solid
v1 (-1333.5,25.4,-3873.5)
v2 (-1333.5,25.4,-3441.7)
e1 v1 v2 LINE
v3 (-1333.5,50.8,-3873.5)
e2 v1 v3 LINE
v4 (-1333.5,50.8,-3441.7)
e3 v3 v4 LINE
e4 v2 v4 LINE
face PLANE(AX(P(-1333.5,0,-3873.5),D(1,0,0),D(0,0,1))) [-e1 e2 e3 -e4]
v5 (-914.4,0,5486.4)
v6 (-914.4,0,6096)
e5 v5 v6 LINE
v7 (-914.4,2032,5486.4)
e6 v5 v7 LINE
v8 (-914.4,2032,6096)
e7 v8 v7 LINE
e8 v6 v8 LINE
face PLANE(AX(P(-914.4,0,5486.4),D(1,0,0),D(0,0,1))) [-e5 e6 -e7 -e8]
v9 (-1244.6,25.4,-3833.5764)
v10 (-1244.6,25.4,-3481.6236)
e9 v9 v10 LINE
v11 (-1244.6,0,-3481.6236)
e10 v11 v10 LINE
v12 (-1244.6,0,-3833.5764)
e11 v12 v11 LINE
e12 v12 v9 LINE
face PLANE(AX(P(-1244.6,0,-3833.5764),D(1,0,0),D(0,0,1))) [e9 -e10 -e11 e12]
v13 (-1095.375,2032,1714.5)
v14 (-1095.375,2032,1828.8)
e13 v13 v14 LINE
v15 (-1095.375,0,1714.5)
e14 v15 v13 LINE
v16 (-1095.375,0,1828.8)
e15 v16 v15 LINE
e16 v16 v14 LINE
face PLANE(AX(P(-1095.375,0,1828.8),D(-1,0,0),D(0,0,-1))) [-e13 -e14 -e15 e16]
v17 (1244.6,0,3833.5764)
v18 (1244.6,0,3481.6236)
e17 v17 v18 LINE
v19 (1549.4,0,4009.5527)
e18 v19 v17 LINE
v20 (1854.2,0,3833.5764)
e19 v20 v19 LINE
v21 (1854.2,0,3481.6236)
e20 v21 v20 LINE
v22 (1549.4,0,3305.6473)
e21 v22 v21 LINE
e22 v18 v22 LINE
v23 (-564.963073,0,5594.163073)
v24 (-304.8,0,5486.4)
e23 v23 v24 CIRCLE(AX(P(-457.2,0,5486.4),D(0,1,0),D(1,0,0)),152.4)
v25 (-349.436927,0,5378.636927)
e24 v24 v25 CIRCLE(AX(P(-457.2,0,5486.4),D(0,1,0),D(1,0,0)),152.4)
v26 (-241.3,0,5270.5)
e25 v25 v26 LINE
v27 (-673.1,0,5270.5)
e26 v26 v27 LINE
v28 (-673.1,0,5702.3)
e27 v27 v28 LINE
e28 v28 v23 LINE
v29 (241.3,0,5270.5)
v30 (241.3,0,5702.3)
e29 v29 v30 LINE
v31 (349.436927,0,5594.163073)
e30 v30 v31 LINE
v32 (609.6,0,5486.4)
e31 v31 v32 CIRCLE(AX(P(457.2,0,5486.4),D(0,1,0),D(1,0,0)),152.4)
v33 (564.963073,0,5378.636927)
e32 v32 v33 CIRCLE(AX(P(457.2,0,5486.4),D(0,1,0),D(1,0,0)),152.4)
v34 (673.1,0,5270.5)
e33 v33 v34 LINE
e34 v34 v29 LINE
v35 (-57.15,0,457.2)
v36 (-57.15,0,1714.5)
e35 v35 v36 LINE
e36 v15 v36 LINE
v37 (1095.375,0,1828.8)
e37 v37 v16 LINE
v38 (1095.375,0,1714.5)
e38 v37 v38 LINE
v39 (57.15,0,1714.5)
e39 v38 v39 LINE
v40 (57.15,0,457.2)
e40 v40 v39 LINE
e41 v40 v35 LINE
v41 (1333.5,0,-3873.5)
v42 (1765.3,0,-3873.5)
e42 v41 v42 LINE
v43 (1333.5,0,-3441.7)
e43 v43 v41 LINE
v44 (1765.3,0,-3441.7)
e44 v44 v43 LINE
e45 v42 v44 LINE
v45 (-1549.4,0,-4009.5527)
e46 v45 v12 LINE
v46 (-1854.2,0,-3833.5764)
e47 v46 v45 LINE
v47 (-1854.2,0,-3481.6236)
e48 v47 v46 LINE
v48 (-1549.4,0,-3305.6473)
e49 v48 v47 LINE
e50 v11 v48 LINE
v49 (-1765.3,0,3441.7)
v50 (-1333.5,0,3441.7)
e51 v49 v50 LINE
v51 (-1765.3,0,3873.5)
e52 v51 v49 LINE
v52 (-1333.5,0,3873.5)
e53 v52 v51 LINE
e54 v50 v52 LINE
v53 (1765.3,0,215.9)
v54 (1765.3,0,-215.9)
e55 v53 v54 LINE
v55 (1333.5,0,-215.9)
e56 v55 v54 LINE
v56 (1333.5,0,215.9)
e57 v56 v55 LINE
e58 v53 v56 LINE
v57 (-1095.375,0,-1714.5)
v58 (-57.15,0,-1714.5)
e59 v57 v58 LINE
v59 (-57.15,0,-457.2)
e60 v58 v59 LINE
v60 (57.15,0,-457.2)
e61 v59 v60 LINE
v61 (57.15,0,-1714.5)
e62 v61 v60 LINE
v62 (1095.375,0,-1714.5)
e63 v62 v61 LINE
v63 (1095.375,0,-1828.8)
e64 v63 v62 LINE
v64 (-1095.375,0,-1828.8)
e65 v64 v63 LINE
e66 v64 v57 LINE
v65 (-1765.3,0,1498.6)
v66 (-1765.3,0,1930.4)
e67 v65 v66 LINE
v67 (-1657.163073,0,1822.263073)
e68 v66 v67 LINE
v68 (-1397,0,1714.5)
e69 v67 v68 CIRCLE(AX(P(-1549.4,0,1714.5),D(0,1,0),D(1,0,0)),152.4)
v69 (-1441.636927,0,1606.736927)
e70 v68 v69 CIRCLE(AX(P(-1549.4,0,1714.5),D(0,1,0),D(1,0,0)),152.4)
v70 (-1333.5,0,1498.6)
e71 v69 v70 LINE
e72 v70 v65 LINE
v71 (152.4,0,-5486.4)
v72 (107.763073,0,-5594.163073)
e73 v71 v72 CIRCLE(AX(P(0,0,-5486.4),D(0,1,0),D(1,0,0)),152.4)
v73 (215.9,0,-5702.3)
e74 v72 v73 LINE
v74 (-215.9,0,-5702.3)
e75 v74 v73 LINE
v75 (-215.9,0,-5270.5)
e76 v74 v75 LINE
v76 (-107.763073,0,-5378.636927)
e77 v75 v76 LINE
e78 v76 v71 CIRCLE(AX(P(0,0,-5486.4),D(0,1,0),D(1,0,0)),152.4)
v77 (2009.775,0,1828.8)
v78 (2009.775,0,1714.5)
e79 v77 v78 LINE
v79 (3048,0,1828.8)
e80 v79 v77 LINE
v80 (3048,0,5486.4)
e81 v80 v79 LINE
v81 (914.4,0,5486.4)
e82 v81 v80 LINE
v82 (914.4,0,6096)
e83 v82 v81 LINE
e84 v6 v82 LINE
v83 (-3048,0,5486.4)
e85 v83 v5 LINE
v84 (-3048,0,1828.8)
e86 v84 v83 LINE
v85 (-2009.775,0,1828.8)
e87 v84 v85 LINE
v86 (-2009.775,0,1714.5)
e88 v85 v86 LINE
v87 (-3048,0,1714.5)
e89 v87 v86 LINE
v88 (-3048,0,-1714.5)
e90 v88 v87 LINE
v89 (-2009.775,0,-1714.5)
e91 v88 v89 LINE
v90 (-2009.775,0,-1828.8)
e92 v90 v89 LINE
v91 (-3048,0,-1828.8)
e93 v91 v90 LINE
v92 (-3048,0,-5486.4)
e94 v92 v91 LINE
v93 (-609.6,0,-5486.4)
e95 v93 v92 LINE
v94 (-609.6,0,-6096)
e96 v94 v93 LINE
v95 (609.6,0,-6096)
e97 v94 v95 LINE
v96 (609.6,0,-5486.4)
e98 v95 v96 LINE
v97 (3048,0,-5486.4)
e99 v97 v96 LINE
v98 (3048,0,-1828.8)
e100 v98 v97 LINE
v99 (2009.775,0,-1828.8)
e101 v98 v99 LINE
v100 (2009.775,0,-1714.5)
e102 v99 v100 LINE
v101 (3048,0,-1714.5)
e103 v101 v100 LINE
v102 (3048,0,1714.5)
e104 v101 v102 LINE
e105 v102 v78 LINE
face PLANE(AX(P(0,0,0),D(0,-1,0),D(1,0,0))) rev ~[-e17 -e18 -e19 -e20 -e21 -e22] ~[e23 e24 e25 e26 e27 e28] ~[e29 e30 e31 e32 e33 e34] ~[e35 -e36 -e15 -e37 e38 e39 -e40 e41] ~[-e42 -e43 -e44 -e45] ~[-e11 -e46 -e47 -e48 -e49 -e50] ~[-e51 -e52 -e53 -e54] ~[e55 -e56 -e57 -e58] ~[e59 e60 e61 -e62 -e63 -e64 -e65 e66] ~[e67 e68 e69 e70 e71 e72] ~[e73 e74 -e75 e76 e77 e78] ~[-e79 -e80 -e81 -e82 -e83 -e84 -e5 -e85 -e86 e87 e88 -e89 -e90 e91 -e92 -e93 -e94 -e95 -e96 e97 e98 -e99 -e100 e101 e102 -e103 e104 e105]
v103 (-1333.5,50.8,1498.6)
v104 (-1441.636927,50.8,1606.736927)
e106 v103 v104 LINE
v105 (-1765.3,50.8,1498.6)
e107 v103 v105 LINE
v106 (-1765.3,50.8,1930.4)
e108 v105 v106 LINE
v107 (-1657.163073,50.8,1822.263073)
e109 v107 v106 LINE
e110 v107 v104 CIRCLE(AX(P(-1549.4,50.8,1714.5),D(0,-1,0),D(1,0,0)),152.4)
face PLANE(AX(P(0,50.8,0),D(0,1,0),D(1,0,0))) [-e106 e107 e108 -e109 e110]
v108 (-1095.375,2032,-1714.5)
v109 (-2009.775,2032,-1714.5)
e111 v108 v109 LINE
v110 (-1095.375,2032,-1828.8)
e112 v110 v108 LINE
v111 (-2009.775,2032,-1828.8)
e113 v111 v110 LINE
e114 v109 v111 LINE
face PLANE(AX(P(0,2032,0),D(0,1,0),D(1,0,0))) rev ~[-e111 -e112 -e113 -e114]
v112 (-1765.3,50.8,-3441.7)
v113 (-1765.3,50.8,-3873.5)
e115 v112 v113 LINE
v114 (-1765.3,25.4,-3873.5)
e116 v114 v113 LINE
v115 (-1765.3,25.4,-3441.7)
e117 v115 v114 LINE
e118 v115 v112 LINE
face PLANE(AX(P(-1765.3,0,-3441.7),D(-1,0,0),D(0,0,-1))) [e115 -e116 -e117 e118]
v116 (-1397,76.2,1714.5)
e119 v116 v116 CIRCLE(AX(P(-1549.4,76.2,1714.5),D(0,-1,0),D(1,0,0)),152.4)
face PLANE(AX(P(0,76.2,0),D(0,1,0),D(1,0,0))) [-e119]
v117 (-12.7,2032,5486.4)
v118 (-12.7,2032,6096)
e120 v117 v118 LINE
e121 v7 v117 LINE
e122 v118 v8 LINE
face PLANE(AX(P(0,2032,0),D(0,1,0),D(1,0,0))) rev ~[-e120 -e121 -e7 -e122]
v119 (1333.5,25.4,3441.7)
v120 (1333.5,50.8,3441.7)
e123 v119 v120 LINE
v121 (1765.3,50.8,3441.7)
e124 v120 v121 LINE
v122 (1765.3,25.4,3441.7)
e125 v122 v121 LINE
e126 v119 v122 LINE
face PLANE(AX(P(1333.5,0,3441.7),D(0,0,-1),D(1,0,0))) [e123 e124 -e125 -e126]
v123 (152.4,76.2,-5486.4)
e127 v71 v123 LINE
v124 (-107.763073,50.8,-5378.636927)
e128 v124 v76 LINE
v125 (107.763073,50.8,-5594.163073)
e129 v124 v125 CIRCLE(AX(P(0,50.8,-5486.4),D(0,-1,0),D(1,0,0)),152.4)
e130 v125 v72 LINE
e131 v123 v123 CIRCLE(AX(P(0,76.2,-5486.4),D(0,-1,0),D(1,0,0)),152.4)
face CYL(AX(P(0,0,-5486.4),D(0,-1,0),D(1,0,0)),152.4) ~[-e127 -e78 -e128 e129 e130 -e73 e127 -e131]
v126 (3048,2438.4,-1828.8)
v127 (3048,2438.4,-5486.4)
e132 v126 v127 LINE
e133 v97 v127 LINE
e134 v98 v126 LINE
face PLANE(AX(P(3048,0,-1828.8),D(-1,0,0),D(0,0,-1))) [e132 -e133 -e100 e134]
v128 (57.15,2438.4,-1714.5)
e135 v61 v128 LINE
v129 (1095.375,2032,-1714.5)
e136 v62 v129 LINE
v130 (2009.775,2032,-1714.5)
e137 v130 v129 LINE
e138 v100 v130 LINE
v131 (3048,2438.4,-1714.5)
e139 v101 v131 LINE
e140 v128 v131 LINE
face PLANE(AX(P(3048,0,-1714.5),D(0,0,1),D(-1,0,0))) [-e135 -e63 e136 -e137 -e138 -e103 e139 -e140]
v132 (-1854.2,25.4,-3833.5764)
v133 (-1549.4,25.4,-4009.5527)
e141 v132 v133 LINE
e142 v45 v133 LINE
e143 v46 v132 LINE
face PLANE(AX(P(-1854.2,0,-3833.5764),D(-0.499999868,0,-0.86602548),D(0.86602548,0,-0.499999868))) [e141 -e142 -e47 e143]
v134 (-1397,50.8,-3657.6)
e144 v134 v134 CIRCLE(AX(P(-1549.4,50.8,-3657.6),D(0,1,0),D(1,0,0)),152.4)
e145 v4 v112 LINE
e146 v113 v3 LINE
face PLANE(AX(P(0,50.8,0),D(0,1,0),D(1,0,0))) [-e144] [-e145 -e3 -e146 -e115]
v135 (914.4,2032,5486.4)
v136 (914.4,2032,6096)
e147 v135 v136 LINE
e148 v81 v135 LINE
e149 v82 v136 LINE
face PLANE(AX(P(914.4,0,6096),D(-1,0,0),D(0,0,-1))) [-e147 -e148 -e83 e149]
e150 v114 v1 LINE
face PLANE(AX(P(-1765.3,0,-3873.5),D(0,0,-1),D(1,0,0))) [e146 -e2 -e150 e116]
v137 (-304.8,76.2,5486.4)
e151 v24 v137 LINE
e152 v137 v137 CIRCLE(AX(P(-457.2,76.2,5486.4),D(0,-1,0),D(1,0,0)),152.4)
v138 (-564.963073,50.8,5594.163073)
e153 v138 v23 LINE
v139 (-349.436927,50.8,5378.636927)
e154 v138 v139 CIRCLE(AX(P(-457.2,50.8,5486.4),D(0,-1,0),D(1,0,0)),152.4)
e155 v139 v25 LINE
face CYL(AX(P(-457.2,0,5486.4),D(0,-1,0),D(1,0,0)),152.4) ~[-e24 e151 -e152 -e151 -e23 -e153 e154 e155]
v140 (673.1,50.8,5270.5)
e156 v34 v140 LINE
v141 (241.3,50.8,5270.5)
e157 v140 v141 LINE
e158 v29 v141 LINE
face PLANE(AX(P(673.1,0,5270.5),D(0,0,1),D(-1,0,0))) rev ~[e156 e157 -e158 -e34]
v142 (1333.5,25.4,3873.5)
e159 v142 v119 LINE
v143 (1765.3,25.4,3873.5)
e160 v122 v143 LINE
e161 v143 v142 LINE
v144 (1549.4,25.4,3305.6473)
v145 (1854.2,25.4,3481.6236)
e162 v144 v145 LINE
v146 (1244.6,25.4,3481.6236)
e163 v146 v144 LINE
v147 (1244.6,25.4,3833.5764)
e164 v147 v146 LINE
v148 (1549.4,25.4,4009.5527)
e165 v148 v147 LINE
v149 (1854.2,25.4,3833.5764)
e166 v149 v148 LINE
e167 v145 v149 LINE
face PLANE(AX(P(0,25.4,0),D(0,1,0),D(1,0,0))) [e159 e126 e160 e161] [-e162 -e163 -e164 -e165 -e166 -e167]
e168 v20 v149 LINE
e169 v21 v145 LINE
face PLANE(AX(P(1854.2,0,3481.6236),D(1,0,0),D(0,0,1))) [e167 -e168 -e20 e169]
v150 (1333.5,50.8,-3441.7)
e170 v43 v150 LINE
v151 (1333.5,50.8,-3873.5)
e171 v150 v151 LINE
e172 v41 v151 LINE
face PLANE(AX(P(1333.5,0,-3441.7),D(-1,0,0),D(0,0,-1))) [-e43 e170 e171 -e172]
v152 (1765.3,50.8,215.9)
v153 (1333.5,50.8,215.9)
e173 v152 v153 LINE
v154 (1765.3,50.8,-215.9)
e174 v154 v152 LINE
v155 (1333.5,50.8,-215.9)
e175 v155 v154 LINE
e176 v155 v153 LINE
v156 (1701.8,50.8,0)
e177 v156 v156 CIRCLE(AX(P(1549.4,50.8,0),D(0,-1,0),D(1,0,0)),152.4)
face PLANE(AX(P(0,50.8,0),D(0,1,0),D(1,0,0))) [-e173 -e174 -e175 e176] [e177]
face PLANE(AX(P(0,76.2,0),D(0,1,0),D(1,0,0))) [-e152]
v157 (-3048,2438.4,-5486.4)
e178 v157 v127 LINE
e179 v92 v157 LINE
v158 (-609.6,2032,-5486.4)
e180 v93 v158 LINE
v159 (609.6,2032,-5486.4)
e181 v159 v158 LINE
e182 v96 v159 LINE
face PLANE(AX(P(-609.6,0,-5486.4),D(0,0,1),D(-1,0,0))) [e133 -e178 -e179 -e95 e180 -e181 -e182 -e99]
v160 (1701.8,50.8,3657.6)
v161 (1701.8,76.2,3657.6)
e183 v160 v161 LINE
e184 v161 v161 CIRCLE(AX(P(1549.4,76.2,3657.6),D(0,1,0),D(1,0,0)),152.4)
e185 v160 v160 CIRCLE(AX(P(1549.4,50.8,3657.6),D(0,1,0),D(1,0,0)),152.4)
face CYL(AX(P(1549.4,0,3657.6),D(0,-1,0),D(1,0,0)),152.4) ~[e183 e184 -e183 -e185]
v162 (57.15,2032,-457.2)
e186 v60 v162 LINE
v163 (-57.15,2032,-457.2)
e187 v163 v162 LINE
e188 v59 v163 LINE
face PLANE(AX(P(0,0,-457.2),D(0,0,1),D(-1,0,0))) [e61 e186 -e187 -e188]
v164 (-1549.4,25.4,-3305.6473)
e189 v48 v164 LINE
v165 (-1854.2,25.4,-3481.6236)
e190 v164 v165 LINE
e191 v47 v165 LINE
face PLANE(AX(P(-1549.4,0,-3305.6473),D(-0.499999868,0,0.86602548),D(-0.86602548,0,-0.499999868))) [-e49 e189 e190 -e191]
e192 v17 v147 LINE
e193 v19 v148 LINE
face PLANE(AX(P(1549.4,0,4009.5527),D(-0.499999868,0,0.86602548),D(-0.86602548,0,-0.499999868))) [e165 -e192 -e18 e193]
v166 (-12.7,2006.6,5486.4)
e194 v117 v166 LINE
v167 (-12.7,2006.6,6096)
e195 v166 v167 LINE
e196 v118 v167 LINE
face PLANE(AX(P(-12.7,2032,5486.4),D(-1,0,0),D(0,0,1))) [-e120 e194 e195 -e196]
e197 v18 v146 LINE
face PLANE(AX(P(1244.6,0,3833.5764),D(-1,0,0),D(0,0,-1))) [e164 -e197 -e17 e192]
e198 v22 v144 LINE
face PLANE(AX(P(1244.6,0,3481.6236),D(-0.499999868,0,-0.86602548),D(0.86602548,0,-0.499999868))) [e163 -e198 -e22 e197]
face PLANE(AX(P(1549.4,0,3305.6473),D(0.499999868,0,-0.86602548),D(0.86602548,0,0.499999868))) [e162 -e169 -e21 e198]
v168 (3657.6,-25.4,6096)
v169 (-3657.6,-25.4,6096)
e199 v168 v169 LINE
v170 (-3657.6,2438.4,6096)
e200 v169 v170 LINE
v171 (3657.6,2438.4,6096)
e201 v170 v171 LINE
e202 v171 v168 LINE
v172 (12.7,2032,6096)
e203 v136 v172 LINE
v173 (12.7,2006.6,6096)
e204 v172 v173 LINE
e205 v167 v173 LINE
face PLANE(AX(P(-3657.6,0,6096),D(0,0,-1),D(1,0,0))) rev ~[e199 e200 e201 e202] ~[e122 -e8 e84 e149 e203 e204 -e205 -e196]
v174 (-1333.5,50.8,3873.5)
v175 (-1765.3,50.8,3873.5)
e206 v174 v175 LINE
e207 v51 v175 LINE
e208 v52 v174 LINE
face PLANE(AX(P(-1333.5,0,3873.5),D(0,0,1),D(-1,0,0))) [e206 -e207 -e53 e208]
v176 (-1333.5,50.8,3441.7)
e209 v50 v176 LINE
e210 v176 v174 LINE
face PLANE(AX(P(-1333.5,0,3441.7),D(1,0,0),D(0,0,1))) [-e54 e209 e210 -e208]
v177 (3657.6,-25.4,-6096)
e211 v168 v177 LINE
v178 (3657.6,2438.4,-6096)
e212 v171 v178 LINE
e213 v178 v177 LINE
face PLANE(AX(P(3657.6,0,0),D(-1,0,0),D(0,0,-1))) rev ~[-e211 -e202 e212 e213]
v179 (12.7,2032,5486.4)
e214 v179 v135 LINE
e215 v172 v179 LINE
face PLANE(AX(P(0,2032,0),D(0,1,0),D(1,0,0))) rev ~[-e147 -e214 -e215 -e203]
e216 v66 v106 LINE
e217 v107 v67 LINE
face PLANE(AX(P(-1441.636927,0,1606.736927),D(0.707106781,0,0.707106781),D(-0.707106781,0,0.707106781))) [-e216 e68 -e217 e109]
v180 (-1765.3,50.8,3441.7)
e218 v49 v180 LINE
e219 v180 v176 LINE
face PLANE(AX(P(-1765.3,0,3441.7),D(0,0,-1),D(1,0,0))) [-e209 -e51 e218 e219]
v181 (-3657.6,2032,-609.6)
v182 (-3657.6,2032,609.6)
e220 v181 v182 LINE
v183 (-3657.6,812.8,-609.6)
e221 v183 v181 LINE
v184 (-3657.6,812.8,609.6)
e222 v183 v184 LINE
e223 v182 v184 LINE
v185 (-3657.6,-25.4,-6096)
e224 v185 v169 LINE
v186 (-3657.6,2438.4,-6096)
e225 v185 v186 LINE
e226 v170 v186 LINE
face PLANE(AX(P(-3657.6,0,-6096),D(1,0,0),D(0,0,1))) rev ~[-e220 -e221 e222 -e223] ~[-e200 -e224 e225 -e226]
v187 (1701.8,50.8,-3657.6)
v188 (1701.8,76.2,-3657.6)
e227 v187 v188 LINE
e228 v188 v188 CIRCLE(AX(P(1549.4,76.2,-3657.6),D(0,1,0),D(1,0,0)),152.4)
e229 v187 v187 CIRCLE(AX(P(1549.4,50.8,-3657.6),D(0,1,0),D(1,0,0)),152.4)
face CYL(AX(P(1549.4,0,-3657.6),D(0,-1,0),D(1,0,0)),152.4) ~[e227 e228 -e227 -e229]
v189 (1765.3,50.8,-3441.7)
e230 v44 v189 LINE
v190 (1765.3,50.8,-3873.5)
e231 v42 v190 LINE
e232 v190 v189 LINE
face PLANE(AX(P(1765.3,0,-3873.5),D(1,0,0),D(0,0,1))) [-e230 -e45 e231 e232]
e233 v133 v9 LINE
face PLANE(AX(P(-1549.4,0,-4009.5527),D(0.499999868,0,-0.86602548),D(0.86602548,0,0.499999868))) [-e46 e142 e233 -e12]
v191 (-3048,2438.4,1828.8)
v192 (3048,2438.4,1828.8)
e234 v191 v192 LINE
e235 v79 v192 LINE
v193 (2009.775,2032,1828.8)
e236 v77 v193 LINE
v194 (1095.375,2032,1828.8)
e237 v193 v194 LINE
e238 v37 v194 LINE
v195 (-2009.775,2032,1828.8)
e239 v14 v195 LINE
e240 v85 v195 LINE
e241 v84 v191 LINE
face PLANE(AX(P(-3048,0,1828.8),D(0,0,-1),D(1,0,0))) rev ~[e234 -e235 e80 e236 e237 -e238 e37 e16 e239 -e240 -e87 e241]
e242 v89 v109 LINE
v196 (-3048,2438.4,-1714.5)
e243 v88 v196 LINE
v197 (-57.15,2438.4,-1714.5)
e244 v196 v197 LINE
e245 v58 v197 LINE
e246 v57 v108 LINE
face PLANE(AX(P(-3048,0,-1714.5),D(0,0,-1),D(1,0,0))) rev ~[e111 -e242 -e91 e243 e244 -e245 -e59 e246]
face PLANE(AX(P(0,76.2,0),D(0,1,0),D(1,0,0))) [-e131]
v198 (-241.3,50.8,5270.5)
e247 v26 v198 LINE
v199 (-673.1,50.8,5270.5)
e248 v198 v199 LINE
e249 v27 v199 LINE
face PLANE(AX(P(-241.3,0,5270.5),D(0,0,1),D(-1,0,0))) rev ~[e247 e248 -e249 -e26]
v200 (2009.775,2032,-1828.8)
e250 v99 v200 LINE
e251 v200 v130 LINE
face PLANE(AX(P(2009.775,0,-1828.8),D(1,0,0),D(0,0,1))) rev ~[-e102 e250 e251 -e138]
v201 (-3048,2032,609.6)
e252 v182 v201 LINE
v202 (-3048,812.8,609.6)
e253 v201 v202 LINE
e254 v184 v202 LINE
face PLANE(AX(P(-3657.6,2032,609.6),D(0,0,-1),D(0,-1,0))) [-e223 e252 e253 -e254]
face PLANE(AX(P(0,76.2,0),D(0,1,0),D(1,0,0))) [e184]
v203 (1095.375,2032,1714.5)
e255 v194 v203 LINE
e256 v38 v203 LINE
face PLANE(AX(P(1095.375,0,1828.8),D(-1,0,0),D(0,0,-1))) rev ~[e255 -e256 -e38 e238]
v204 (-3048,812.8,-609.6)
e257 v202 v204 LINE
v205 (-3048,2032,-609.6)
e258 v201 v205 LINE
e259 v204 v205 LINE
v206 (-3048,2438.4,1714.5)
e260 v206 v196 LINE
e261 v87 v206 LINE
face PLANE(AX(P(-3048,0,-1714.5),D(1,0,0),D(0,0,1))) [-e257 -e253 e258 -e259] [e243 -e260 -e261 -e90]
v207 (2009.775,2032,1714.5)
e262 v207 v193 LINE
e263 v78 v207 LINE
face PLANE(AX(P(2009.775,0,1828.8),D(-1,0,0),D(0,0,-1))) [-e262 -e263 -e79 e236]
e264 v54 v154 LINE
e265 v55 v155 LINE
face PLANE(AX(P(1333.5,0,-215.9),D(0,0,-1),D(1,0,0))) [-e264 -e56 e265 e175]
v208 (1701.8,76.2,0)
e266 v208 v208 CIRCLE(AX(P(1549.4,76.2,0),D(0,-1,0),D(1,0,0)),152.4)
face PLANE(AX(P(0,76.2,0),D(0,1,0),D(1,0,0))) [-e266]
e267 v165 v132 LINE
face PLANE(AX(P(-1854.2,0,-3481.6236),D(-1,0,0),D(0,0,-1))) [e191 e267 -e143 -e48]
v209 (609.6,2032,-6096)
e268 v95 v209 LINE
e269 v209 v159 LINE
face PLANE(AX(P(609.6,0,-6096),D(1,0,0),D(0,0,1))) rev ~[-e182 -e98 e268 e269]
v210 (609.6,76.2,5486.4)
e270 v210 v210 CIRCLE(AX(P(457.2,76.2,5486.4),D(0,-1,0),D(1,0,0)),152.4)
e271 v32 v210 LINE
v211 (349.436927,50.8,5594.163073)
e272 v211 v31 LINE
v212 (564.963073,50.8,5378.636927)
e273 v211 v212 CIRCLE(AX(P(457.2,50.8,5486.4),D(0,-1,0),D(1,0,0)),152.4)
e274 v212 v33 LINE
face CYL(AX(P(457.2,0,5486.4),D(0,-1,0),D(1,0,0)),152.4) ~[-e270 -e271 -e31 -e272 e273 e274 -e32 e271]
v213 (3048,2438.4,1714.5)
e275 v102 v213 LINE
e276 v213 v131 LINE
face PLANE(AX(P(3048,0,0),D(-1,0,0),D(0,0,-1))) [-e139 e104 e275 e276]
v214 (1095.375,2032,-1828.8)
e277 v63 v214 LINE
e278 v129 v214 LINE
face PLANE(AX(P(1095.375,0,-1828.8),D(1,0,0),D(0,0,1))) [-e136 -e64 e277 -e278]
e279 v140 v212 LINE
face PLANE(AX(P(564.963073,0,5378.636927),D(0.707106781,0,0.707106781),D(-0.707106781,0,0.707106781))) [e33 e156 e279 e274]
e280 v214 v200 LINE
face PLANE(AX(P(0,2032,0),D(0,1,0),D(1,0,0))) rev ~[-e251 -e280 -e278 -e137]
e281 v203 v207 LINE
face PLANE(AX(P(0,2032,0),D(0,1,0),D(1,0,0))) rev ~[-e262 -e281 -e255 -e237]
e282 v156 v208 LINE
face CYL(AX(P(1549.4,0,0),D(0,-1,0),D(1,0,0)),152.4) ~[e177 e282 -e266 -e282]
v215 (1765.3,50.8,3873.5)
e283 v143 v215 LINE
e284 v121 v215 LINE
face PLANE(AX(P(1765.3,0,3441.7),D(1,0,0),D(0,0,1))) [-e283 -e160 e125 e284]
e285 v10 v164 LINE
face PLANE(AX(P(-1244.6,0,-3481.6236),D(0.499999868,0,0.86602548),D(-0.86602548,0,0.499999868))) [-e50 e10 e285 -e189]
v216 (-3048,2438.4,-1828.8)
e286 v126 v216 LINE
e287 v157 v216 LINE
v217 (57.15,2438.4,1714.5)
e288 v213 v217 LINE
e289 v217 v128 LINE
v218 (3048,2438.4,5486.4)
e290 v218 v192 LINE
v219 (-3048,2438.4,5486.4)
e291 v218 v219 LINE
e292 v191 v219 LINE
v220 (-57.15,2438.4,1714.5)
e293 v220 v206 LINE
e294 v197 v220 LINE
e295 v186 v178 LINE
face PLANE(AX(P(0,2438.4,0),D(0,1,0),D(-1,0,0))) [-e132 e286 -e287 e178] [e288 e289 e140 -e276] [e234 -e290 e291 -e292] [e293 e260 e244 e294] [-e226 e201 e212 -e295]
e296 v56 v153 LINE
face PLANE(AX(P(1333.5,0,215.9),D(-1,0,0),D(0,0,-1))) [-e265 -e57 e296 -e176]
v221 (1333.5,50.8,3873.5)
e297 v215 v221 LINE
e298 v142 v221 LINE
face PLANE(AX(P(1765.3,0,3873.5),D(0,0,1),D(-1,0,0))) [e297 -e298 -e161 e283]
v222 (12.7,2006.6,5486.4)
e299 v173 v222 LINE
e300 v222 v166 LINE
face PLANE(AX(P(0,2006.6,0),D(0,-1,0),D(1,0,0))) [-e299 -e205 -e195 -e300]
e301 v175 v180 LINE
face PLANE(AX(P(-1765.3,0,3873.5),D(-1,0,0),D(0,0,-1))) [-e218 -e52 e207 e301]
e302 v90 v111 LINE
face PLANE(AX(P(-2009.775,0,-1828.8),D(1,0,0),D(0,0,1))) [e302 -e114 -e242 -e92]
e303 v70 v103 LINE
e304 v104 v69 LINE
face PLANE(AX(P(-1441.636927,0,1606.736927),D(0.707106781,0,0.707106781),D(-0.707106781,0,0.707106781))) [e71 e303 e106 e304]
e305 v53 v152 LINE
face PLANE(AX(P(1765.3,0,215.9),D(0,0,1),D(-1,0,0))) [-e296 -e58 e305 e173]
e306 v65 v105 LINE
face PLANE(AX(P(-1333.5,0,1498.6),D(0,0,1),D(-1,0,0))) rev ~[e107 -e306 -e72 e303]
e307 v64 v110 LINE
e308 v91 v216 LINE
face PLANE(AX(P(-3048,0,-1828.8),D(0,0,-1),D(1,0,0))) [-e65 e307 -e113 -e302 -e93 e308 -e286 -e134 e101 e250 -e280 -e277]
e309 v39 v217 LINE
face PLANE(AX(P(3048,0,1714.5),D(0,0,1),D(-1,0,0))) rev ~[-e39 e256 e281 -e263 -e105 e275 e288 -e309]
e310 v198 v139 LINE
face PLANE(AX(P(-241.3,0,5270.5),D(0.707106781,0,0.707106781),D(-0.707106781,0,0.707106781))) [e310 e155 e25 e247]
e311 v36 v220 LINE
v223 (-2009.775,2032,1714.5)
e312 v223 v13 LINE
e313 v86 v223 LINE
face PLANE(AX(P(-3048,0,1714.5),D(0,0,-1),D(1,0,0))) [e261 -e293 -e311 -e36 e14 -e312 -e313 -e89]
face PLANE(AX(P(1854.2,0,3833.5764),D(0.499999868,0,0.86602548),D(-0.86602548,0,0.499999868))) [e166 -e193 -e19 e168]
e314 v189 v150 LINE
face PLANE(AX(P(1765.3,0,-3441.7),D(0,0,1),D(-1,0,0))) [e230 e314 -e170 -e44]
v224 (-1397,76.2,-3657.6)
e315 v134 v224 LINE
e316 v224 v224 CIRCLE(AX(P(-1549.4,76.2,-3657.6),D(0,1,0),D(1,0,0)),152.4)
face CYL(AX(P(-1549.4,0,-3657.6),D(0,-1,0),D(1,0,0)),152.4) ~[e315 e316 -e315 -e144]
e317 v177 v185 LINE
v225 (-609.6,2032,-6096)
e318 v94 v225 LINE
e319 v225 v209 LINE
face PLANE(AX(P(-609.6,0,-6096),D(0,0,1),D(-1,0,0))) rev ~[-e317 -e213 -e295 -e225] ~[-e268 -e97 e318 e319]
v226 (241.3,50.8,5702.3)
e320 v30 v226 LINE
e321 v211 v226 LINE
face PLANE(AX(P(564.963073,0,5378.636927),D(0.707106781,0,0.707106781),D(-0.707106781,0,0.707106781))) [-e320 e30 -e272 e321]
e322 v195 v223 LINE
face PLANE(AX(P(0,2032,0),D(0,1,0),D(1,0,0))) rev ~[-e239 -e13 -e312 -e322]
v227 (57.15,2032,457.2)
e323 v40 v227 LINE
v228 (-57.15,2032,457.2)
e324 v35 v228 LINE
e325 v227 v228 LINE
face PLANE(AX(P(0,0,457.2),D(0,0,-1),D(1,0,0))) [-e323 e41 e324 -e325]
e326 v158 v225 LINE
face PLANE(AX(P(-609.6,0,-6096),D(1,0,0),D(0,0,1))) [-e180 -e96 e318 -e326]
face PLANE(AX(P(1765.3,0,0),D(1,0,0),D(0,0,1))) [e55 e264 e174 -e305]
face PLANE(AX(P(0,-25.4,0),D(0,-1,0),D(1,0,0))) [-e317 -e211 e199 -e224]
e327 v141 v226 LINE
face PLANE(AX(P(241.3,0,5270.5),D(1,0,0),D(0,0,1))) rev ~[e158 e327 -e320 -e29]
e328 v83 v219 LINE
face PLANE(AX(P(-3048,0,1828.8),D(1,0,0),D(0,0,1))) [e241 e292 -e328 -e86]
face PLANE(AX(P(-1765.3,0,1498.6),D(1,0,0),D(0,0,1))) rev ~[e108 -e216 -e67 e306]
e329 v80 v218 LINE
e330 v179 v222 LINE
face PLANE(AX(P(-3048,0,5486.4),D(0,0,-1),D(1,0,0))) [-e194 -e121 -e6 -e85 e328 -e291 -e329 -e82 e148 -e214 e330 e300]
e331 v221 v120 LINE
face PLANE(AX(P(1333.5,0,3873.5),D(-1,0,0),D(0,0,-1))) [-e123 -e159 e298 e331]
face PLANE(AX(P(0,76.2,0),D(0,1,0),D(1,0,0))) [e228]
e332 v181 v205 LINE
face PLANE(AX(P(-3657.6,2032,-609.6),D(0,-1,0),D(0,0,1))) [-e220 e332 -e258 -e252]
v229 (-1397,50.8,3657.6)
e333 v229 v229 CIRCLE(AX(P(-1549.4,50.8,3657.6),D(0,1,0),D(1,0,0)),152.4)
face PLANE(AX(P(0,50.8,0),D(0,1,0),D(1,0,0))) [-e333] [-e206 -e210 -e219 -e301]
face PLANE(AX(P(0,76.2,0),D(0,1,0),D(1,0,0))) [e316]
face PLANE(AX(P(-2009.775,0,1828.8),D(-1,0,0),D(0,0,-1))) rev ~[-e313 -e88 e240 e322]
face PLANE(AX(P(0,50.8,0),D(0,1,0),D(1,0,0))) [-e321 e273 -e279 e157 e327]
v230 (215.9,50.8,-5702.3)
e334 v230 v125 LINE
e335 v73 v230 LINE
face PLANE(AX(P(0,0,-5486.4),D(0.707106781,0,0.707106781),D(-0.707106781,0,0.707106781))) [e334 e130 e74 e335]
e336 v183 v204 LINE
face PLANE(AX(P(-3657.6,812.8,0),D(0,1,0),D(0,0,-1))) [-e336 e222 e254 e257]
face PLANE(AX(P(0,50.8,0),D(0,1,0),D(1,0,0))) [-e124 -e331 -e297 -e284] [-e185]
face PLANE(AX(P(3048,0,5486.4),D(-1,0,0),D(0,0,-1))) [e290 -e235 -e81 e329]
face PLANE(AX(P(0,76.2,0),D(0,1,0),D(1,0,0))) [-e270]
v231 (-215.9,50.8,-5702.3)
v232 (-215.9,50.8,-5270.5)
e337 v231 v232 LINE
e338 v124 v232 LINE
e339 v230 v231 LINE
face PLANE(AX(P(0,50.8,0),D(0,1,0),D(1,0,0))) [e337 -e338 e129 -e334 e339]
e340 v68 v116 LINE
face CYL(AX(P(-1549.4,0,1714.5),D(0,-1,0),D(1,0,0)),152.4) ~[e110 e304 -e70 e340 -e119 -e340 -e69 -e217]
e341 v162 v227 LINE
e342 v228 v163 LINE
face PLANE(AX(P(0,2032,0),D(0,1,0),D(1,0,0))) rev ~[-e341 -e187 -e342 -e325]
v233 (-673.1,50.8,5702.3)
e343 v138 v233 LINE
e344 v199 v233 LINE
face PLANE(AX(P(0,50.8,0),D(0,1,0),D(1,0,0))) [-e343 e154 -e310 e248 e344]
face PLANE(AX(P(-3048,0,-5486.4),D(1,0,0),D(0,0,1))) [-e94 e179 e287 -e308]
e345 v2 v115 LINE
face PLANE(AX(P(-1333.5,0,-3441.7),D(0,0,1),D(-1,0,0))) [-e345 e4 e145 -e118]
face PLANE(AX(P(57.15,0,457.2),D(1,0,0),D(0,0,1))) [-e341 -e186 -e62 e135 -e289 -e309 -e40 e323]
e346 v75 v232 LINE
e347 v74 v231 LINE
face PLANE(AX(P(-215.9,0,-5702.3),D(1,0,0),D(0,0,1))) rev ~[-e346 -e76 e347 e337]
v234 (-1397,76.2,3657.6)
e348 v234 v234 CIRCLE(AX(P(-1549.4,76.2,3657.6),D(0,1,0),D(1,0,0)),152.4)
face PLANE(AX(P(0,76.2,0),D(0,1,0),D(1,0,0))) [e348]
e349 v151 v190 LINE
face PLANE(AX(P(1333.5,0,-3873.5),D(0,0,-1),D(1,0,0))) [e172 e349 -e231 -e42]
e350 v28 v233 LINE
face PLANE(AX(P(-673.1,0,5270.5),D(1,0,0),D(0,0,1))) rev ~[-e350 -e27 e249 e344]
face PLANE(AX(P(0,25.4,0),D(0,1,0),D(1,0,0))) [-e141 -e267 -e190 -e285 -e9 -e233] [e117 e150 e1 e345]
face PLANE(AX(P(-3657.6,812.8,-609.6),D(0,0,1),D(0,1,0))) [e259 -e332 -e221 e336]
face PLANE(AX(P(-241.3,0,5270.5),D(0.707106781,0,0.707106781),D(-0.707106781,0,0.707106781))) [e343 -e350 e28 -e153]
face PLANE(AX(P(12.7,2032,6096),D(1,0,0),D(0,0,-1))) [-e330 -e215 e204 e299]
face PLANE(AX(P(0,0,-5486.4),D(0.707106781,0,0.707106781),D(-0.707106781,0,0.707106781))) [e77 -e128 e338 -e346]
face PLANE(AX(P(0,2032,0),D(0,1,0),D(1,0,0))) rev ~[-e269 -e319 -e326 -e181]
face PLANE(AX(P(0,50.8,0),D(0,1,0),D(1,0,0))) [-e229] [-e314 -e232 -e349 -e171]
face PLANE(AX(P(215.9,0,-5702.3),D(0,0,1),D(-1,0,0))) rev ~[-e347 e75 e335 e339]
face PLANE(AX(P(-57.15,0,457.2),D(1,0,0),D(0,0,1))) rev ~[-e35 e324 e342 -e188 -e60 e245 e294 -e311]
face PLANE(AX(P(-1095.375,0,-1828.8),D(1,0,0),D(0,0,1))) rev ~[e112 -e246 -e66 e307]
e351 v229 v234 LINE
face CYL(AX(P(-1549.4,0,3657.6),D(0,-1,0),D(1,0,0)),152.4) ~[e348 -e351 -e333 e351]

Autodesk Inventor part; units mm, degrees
ref_plane "YZ Plane" through (0, 0, 0) normal (1, 0, 0) x (0, 1, 0)
ref_plane "XZ Plane" through (0, 0, 0) normal (0, 1, 0) x (-1, 0, 0)
ref_plane "XY Plane" through (0, 0, 0) normal (0, 0, 1) x (1, 0, 0)
sketch "Sketch1" plane through (0, 0, 0) normal (0, 1, 0) x (-1, 0, 0)
  line L0 (3657.6, -6096) -> (3657.6, 6096)
  line L1 (-3657.6, 6096) -> (-3657.6, -6096)
  line L2 (-5120.64, 0) -> (5120.64, 0) projected
  line L3 (0, -23842.3169) -> (0, 22994.4703) projected
  line L4 (-3048, 1714.5) -> (-3048, -1714.5)
  line L5 (3048, -5486.4) -> (3048, -1828.8)
  line L6 (3048, -1714.5) -> (3048, 1714.5)
  line L7 (3048, 1828.8) -> (3048, 5486.4)
  line L8 (-3048, -1828.8) -> (-3048, -5486.4)
  line L9 (-3048, 5486.4) -> (-3048, 1828.8)
  line L10 (-3048, 1714.5) -> (-3048, -1714.5)
  line L11 (-2009.775, -1828.8) -> (-2009.775, -1714.5)
  line L12 (-1095.375, -1828.8) -> (-1095.375, -1714.5)
  line L13 (-3048, -1714.5) -> (-2009.775, -1714.5)
  line L14 (-1095.375, -1714.5) -> (-57.15, -1714.5)
  line L15 (-3048, -1828.8) -> (-2009.775, -1828.8)
  line L16 (2009.775, -1828.8) -> (2009.775, -1714.5)
  line L17 (1095.375, -1828.8) -> (1095.375, -1714.5)
  line L18 (3048, -1714.5) -> (2009.775, -1714.5)
  line L19 (1095.375, -1714.5) -> (57.15, -1714.5)
  line L20 (3048, -1828.8) -> (2009.775, -1828.8)
  line L21 (1095.375, -1828.8) -> (-1095.375, -1828.8)
  line L22 (-2009.775, -1828.8) -> (-3048, -1828.8)
  line L23 (-1095.375, -1828.8) -> (1095.375, -1828.8)
  line L24 (2009.775, -1828.8) -> (3048, -1828.8)
  line L25 (57.15, -1714.5) -> (1095.375, -1714.5)
  line L26 (2009.775, -1714.5) -> (3048, -1714.5)
  line L27 (-2009.775, 1828.8) -> (-2009.775, 1714.5)
  line L28 (-1095.375, 1828.8) -> (-1095.375, 1714.5)
  line L29 (-3048, 1714.5) -> (-2009.775, 1714.5)
  line L30 (-1095.375, 1714.5) -> (-57.15, 1714.5)
  line L31 (-3048, 1828.8) -> (-2009.775, 1828.8)
  line L32 (3048, 1714.5) -> (2009.775, 1714.5)
  line L33 (3048, 1828.8) -> (2009.775, 1828.8)
  line L34 (2009.775, 1828.8) -> (2009.775, 1714.5)
  line L35 (1095.375, 1828.8) -> (1095.375, 1714.5)
  line L36 (1095.375, 1714.5) -> (57.15, 1714.5)
  line L37 (1095.375, 1828.8) -> (-1095.375, 1828.8)
  line L38 (-2009.775, 1828.8) -> (-3048, 1828.8)
  line L39 (-1095.375, 1828.8) -> (1095.375, 1828.8)
  line L40 (2009.775, 1828.8) -> (3048, 1828.8)
  line L41 (57.15, 1714.5) -> (1095.375, 1714.5)
  line L42 (2009.775, 1714.5) -> (3048, 1714.5)
  line L43 (-57.15, -457.2) -> (57.15, -457.2)
  line L44 (57.15, 457.2) -> (-57.15, 457.2)
  line L45 (-609.6, -6096) -> (-609.6, -5486.4)
  line L46 (609.6, -6096) -> (609.6, -5486.4)
  line L47 (-3048, -5486.4) -> (-609.6, -5486.4)
  line L48 (609.6, -5486.4) -> (3048, -5486.4)
  line L49 (-3657.6, -6096) -> (-609.6, -6096)
  line L50 (609.6, -6096) -> (3657.6, -6096)
  line L51 (914.4, 5486.4) -> (914.4, 6096)
  line L52 (-914.4, 6096) -> (-914.4, 5486.4)
  line L53 (3048, 5486.4) -> (914.4, 5486.4)
  line L54 (-914.4, 5486.4) -> (-3048, 5486.4)
  line L55 (3657.6, 6096) -> (914.4, 6096)
  line L56 (-914.4, 6096) -> (-3657.6, 6096)
  line L57 (-57.15, -1714.5) -> (-57.15, -457.2)
  line L58 (-57.15, 457.2) -> (-57.15, 1714.5)
  line L59 (-57.15, 1714.5) -> (-57.15, 457.2)
  line L60 (-57.15, -457.2) -> (-57.15, -1714.5)
  line L61 (57.15, -1714.5) -> (57.15, -457.2)
  line L62 (57.15, 457.2) -> (57.15, 1714.5)
  line L63 (57.15, 1714.5) -> (57.15, 457.2)
  line L64 (57.15, -457.2) -> (57.15, -1714.5)
  line L65 (-3048, 5486.4) -> (-3048, 1828.8)
  line L66 (-3048, 1828.8) -> (-2009.775, 1828.8)
  line L67 (-2009.775, 1828.8) -> (-2009.775, 1714.5)
  line L68 (-2009.775, 1714.5) -> (-3048, 1714.5)
  line L69 (-3048, 1714.5) -> (-3048, -1714.5)
  line L70 (-3048, -1714.5) -> (-2009.775, -1714.5)
  line L71 (-2009.775, -1714.5) -> (-2009.775, -1828.8)
  line L72 (-2009.775, -1828.8) -> (-3048, -1828.8)
  line L73 (-3048, -1828.8) -> (-3048, -5486.4)
  line L74 (-3048, -5486.4) -> (-609.6, -5486.4)
  line L75 (609.6, -5486.4) -> (3048, -5486.4)
  line L76 (3048, -5486.4) -> (3048, -1828.8)
  line L77 (3048, -1828.8) -> (2009.775, -1828.8)
  line L78 (2009.775, -1828.8) -> (2009.775, -1714.5)
  line L79 (2009.775, -1714.5) -> (3048, -1714.5)
  line L80 (3048, 1714.5) -> (3048, -1714.5)
  line L81 (3048, 1714.5) -> (2009.775, 1714.5)
  line L82 (2009.775, 1714.5) -> (2009.775, 1828.8)
  line L83 (2009.775, 1828.8) -> (3048, 1828.8)
  line L84 (3048, 1828.8) -> (3048, 5486.4)
  point P0 (0, 0)
  point P1 (0, 23842.3169)
  point P2 (0, -22994.4703)
  dimension "d2" = 7315.2
  dimension "d10" = 609.6
  dimension "d13" = 1038.225
  dimension "d14" = 914.4
  dimension "d17" = 114.3
  dimension "d18" = 1038.225
  dimension "d19" = 1038.225
  dimension "d20" = 914.4
  dimension "d21" = 1219.2
  dimension "d23" = 609.6
  dimension "d24" = 4267.2
  dimension "d25" = 1828.8
  dimension "d26" = 12192
  dimension "d27" = 609.6
  dimension "d28" = 114.3
extrude "Extrusion1" add sketch "Sketch1" along normal blind 2438.4
sketch "Sketch2" plane through (-3657.6, 0, -6096) normal (-1, 0, 0) x (0, 0, 1)
  line L0 (0, 0) -> (12192, 0) projected
  line L1 (5486.4, 2032) -> (6705.6, 2032)
  line L2 (6705.6, 2032) -> (6705.6, 812.8)
  line L3 (6705.6, 812.8) -> (5486.4, 812.8)
  line L4 (5486.4, 812.8) -> (5486.4, 2032)
  line L5 (6096, 2926.08) -> (6096, -487.68) projected
  point P0 (6096, 0)
  dimension "d31" = 1219.2
  dimension "d33" = 1219.2
  dimension "d34" = 812.8
extrude "Extrusion2" cut sketch "Sketch2" against normal up to surface (609.6 mm away)
sketch "Sketch3" plane through (0, 2438.4, 0) normal (0, 1, 0) x (1, 0, 0)
  line L0 (57.15, 1714.5) -> (1095.375, 1714.5) projected
  line L1 (1095.375, 1714.5) -> (1095.375, 1828.8) projected
  line L2 (1095.375, 1828.8) -> (-1095.375, 1828.8) projected
  line L3 (-1095.375, 1828.8) -> (-1095.375, 1714.5) projected
  line L4 (-1095.375, 1714.5) -> (-57.15, 1714.5) projected
  line L5 (-57.15, 1714.5) -> (-57.15, 457.2) projected
  line L6 (-57.15, 457.2) -> (57.15, 457.2) projected
  line L7 (57.15, 457.2) -> (57.15, 1714.5) projected
  line L8 (-57.15, -1714.5) -> (-1095.375, -1714.5) projected
  line L9 (-1095.375, -1714.5) -> (-1095.375, -1828.8) projected
  line L10 (-1095.375, -1828.8) -> (1095.375, -1828.8) projected
  line L11 (1095.375, -1828.8) -> (1095.375, -1714.5) projected
  line L12 (1095.375, -1714.5) -> (57.15, -1714.5) projected
  line L13 (57.15, -1714.5) -> (57.15, -457.2) projected
  line L14 (57.15, -457.2) -> (-57.15, -457.2) projected
  line L15 (-57.15, -457.2) -> (-57.15, -1714.5) projected
  line L16 (3657.6, 6096) -> (609.6, 6096) projected
  line L17 (609.6, 6096) -> (609.6, 5486.4) projected
  line L18 (609.6, 5486.4) -> (3048, 5486.4) projected
  line L19 (3048, 5486.4) -> (3048, 1828.8) projected
  line L20 (3048, 1828.8) -> (2009.775, 1828.8) projected
  line L21 (2009.775, 1828.8) -> (2009.775, 1714.5) projected
  line L22 (2009.775, 1714.5) -> (3048, 1714.5) projected
  line L23 (3048, 1714.5) -> (3048, -1714.5) projected
  line L24 (3048, -1714.5) -> (2009.775, -1714.5) projected
  line L25 (2009.775, -1714.5) -> (2009.775, -1828.8) projected
  line L26 (2009.775, -1828.8) -> (3048, -1828.8) projected
  line L27 (3048, -1828.8) -> (3048, -5486.4) projected
  line L28 (3048, -5486.4) -> (914.4, -5486.4) projected
  line L29 (914.4, -5486.4) -> (914.4, -6096) projected
  line L30 (914.4, -6096) -> (3657.6, -6096) projected
  line L31 (3657.6, -6096) -> (3657.6, 6096) projected
  line L32 (-609.6, 6096) -> (609.6, 6096)
  line L33 (609.6, 6096) -> (609.6, 5486.4)
  line L34 (609.6, 5486.4) -> (-609.6, 5486.4)
  line L35 (-609.6, 5486.4) -> (-609.6, 6096)
  line L36 (-2009.775, 1828.8) -> (-1095.375, 1828.8)
  line L37 (-1095.375, 1828.8) -> (-1095.375, 1714.5)
  line L38 (-1095.375, 1714.5) -> (-2009.775, 1714.5)
  line L39 (-2009.775, 1714.5) -> (-2009.775, 1828.8)
  line L40 (1095.375, 1828.8) -> (2009.775, 1828.8)
  line L41 (2009.775, 1828.8) -> (2009.775, 1714.5)
  line L42 (2009.775, 1714.5) -> (1095.375, 1714.5)
  line L43 (1095.375, 1714.5) -> (1095.375, 1828.8)
  line L44 (-57.15, 457.2) -> (57.15, 457.2)
  line L45 (57.15, 457.2) -> (57.15, -457.2)
  line L46 (57.15, -457.2) -> (-57.15, -457.2)
  line L47 (-57.15, -457.2) -> (-57.15, 457.2)
  line L48 (1095.375, -1714.5) -> (2009.775, -1714.5)
  line L49 (2009.775, -1714.5) -> (2009.775, -1828.8)
  line L50 (2009.775, -1828.8) -> (1095.375, -1828.8)
  line L51 (1095.375, -1828.8) -> (1095.375, -1714.5)
  line L52 (-2009.775, -1714.5) -> (-1095.375, -1714.5)
  line L53 (-1095.375, -1714.5) -> (-1095.375, -1828.8)
  line L54 (-1095.375, -1828.8) -> (-2009.775, -1828.8)
  line L55 (-2009.775, -1828.8) -> (-2009.775, -1714.5)
  line L56 (-914.4, -5486.4) -> (914.4, -5486.4)
  line L57 (914.4, -5486.4) -> (914.4, -6096)
  line L58 (914.4, -6096) -> (-914.4, -6096)
  line L59 (-914.4, -6096) -> (-914.4, -5486.4)
  line L60 (1095.375, 1828.8) -> (2009.775, 1828.8)
  line L61 (2009.775, 1828.8) -> (2009.775, 1714.5)
  line L62 (2009.775, 1714.5) -> (1095.375, 1714.5)
  line L63 (1095.375, 1714.5) -> (1095.375, 1828.8)
  point P0 (0, 0)
extrude "Extrusion3" add sketch "Sketch3" against normal blind 406.4 contours L1 L40 L21 L42 | L45 L14 L47 L6 | L3 L38 L39 L36 | L48 L25 L50 L11 | L9 L54 L55 L52 | L34 L35 L32 L17 | L29 L58 L59 L56
sketch "Sketch4" plane through (0, 2032, 0) normal (0, -1, 0) x (1, 0, 0)
  line L0 (914.4, 6096) -> (-914.4, 6096) projected
  line L1 (-914.4, 5486.4) -> (914.4, 5486.4) projected
  line L2 (0, 8534.4) -> (0, -8534.4) projected
  line L3 (-12.7, 6096) -> (12.7, 6096)
  line L4 (12.7, 6096) -> (12.7, 5486.4)
  line L5 (12.7, 5486.4) -> (-12.7, 5486.4)
  line L6 (-12.7, 5486.4) -> (-12.7, 6096)
  point P0 (0, 0)
  dimension "d39" = 25.4
extrude "Extrusion4" add sketch "Sketch4" along normal blind 25.4
sketch "Sketch5" plane through (0, 0, 0) normal (0, -1, 0) x (1, 0, 0)
  line L0 (3657.6, -6096) -> (609.6, -6096) projected
  line L1 (3657.6, 6096) -> (3657.6, -6096) projected
  line L2 (914.4, 6096) -> (3657.6, 6096) projected
  line L3 (914.4, 5486.4) -> (914.4, 6096) projected
  line L4 (3048, 5486.4) -> (914.4, 5486.4) projected
  line L5 (3048, 1828.8) -> (3048, 5486.4) projected
  line L6 (2009.775, 1828.8) -> (3048, 1828.8) projected
  line L7 (2009.775, 1714.5) -> (2009.775, 1828.8) projected
  line L8 (3048, 1714.5) -> (2009.775, 1714.5) projected
  line L9 (3048, -1714.5) -> (3048, 1714.5) projected
  line L10 (2009.775, -1714.5) -> (3048, -1714.5) projected
  line L11 (2009.775, -1828.8) -> (2009.775, -1714.5) projected
  line L12 (3048, -1828.8) -> (2009.775, -1828.8) projected
  line L13 (3048, -5486.4) -> (3048, -1828.8) projected
  line L14 (609.6, -5486.4) -> (3048, -5486.4) projected
  line L15 (609.6, -6096) -> (609.6, -5486.4) projected
  line L16 (-3657.6, 6096) -> (3657.6, 6096)
  line L17 (3657.6, 6096) -> (3657.6, -6096)
  line L18 (3657.6, -6096) -> (-3657.6, -6096)
  line L19 (-3657.6, -6096) -> (-3657.6, 6096)
  point P0 (0, 0)
extrude "Extrusion5" add sketch "Sketch5" along normal blind 25.4
sketch "Sketch6" plane through (0, 0, 0) normal (0, 1, 0) x (1, 0, 0)
  circle A0 centre (1549.4, 3657.6) radius 152.4
  line L0 (3048, 5486.4) -> (3048, 1828.8) projected
  line L1 (609.6, 5486.4) -> (3048, 5486.4) projected
  line L2 (1333.5, 3873.5) -> (1765.3, 3873.5)
  line L3 (1765.3, 3873.5) -> (1765.3, 3441.7)
  line L4 (1765.3, 3441.7) -> (1333.5, 3441.7)
  line L5 (1333.5, 3441.7) -> (1333.5, 3873.5)
  circle A1 centre (-1549.4, 3657.6) radius 152.4
  line L6 (-1765.3, 3873.5) -> (-1333.5, 3873.5)
  line L7 (-1333.5, 3873.5) -> (-1333.5, 3441.7)
  line L8 (-1333.5, 3441.7) -> (-1765.3, 3441.7)
  line L9 (-1765.3, 3441.7) -> (-1765.3, 3873.5)
  line L10 (-3048, 5486.4) -> (-609.6, 5486.4) projected
  line L11 (-3048, 1828.8) -> (-3048, 5486.4) projected
  line L12 (57.15, 1714.5) -> (1095.375, 1714.5) projected
  line L13 (2009.775, 1714.5) -> (3048, 1714.5) projected
  line L14 (3048, 1714.5) -> (3048, -1714.5) projected
  circle A2 centre (1549.4, 0) radius 152.4
  line L15 (1333.5, 215.9) -> (1765.3, 215.9)
  line L16 (1765.3, 215.9) -> (1765.3, -215.9)
  line L17 (1765.3, -215.9) -> (1333.5, -215.9)
  line L18 (1333.5, -215.9) -> (1333.5, 215.9)
  line L19 (-1095.375, -1828.8) -> (-1095.375, -1714.5) projected
  line L20 (-2009.775, -1714.5) -> (-2009.775, -1828.8) projected
  line L21 (3048, 1828.8) -> (2009.775, 1828.8) projected
  line L22 (2009.775, 1828.8) -> (2009.775, 1714.5) projected
  line L23 (1095.375, 1828.8) -> (-1095.375, 1828.8) projected
  line L24 (1095.375, 1714.5) -> (1095.375, 1828.8) projected
  circle A3 centre (-1549.4, -3657.6) radius 152.4
  line L25 (-1765.3, -3441.7) -> (-1333.5, -3441.7)
  line L26 (-1333.5, -3441.7) -> (-1333.5, -3873.5)
  line L27 (-1333.5, -3873.5) -> (-1765.3, -3873.5)
  line L28 (-1765.3, -3873.5) -> (-1765.3, -3441.7)
  line L29 (1333.5, -3441.7) -> (1765.3, -3441.7)
  line L30 (1333.5, -3873.5) -> (1333.5, -3441.7)
  circle A4 centre (1549.4, -3657.6) radius 152.4
  line L31 (1765.3, -3441.7) -> (1765.3, -3873.5)
  line L32 (1765.3, -3873.5) -> (1333.5, -3873.5)
  line L33 (3048, -1828.8) -> (3048, -5486.4) projected
  line L34 (3048, -5486.4) -> (914.4, -5486.4) projected
  line L35 (-914.4, -5486.4) -> (-3048, -5486.4) projected
  line L36 (-3048, -5486.4) -> (-3048, -1828.8) projected
  line L37 (-1095.375, -1828.8) -> (1095.375, -1828.8) projected
  line L38 (-3048, -1828.8) -> (-2009.775, -1828.8) projected
  line L39 (609.6, 6096) -> (609.6, 5486.4) projected
  line L40 (-609.6, 5486.4) -> (-609.6, 6096) projected
  line L41 (0, 8534.4) -> (0, -8534.4) projected
  line L42 (-1244.6, 3481.6236) -> (-1549.4, 3305.6473)
  line L43 (-1549.4, 3305.6473) -> (-1854.2, 3481.6236)
  line L44 (-1854.2, 3481.6236) -> (-1854.2, 3833.5764)
  line L45 (-1854.2, 3833.5764) -> (-1549.4, 4009.5527)
  line L46 (-1549.4, 4009.5527) -> (-1244.6, 3833.5764)
  line L47 (-1244.6, 3833.5764) -> (-1244.6, 3481.6236)
  circle A5 centre (0, 5486.4) radius 152.4
  line L48 (215.9, 5702.3) -> (-215.9, 5702.3)
  line L49 (-215.9, 5702.3) -> (-215.9, 5270.5)
  line L50 (-2009.775, -1714.5) -> (-3048, -1714.5) projected
  circle A6 centre (-1549.4, -1714.5) radius 152.4
  line L51 (-1333.5, -1498.6) -> (-1765.3, -1498.6)
  line L52 (-1765.3, -1498.6) -> (-1765.3, -1930.4)
  line L53 (-1333.5, -1498.6) -> (-1765.3, -1930.4)
  line L54 (215.9, 5702.3) -> (-215.9, 5270.5)
  line L55 (914.4, -5486.4) -> (914.4, -6096) projected
  line L56 (-914.4, -6096) -> (-914.4, -5486.4) projected
  circle A7 centre (457.2, -5486.4) radius 152.4
  line L57 (673.1, -5270.5) -> (241.3, -5270.5)
  line L58 (241.3, -5270.5) -> (241.3, -5702.3)
  line L59 (673.1, -5270.5) -> (241.3, -5702.3)
  line L60 (-241.3, -5270.5) -> (-673.1, -5270.5)
  circle A8 centre (-457.2, -5486.4) radius 152.4
  line L61 (-241.3, -5270.5) -> (-673.1, -5702.3)
  line L62 (-673.1, -5270.5) -> (-673.1, -5702.3)
  line L63 (1854.2, -3833.5764) -> (1549.4, -4009.5527)
  line L64 (1549.4, -4009.5527) -> (1244.6, -3833.5764)
  line L65 (1244.6, -3833.5764) -> (1244.6, -3481.6236)
  line L66 (1244.6, -3481.6236) -> (1549.4, -3305.6473)
  line L67 (1549.4, -3305.6473) -> (1854.2, -3481.6236)
  line L68 (1854.2, -3481.6236) -> (1854.2, -3833.5764)
  line L69 (-3048, -1714.5) -> (-3048, 1714.5) projected
  line L70 (2009.775, 1714.5) -> (2009.775, 1828.8) projected
  line L71 (5120.64, 0) -> (-5120.64, 0) projected
  point P0 (0, 0)
  point P1 (1676.4, 3708.4)
  point P2 (1676.4, 3708.4)
  point P3 (-1549.4, 3657.6)
  point P4 (-1244.6, 3657.6)
  point P5 (457.2, -5486.4)
  point P6 (-457.2, -5486.4)
  dimension "d55" = 1498.6
  dimension "d56" = 1828.8
  dimension "d73" = 304.8
  dimension "d84" = 431.8
  dimension "d86" = 215.9
  dimension "d87" = 215.9
  dimension "d91" = 304.8
  dimension "d92" = 431.8
  dimension "d93" = 431.8
  dimension "d94" = 215.9
  dimension "d95" = 215.9
  dimension "d99" = 1828.8
  dimension "d100" = 1498.6
  dimension "d101" = 304.8
  dimension "d102" = 431.8
  dimension "d103" = 431.8
  dimension "d104" = 215.9
  dimension "d105" = 215.9
  dimension "d106" = 1498.6
  dimension "d108" = 304.8
  dimension "d109" = 431.8
  dimension "d110" = 431.8
  dimension "d111" = 215.9
  dimension "d112" = 215.9
  dimension "d113" = 304.8
  dimension "d114" = 431.8
  dimension "d115" = 431.8
  dimension "d116" = 215.9
  dimension "d117" = 215.9
  dimension "d118" = 1498.6
  dimension "d119" = 1828.8
  dimension "d120" = 1498.6
  dimension "d121" = 1828.8
  dimension "d128" = 215.9
  dimension "d136" = 304.8
  dimension "d144" = 304.8
  dimension "d145" = 609.6
  dimension "d146" = 351.9527
  dimension "d147" = 304.8
  dimension "d150" = 431.8
  dimension "d151" = 431.8
  dimension "d152" = 215.9
  dimension "d153" = 431.8
  dimension "d154" = 431.8
  dimension "d155" = 215.9
  dimension "d156" = 304.8
  dimension "d157" = 431.8
  dimension "d158" = 431.8
  dimension "d159" = 215.9
  dimension "d160" = 304.8
  dimension "d161" = 431.8
  dimension "d162" = 431.8
  dimension "d163" = 215.9
  dimension "d164" = 457.2
  dimension "d165" = 457.2
  dimension "d172" = 609.6
  dimension "d175" = 1498.6
extrude "Extrusion17" add sketch "Sketch6" along normal blind 76.2 contours A0 | A1 | L71 A2 | A2 L71 | A5 L54 L41 | L41 L54 A5 | L54 A5 L41 | L41 A5 L54 | A3 | A4 | A6 L53 | L53 A6 | A7 L59 | L59 A7 | L61 A8 | A8 L61
extrude "Extrusion18" add sketch "Sketch6" along normal blind 50.8 contours L2 L3 L4 L5 | L6 L7 L8 L9 | L71 L16 L17 L18 A2 | A2 L71 L18 L15 L16 | L54 A5 L41 | L41 A5 L54 | L54 L49 L48 L41 A5 | L41 L48 L54 A5 | L25 L26 L27 L28 | L29 L31 L32 L30 | L53 A6 | A6 L53 L52 L51 | L59 A7 | A7 L59 L58 L57 | L61 A8 L62 L60 | L61 A8 picked at (-82.7306, 5427.6995) picked at (58.7005, 5569.1306) picked at (-1592.4136, -1687.4728) picked at (443.3203, -5425.7518) picked at (-471.0797, -5425.7518)
extrude "Extrusion20" add sketch "Sketch6" along normal blind 25.4 contours L42 L43 L44 L45 L46 L47 | L63 L64 L65 L66 L67 L68
properties part number "East_Structure_Devices"
